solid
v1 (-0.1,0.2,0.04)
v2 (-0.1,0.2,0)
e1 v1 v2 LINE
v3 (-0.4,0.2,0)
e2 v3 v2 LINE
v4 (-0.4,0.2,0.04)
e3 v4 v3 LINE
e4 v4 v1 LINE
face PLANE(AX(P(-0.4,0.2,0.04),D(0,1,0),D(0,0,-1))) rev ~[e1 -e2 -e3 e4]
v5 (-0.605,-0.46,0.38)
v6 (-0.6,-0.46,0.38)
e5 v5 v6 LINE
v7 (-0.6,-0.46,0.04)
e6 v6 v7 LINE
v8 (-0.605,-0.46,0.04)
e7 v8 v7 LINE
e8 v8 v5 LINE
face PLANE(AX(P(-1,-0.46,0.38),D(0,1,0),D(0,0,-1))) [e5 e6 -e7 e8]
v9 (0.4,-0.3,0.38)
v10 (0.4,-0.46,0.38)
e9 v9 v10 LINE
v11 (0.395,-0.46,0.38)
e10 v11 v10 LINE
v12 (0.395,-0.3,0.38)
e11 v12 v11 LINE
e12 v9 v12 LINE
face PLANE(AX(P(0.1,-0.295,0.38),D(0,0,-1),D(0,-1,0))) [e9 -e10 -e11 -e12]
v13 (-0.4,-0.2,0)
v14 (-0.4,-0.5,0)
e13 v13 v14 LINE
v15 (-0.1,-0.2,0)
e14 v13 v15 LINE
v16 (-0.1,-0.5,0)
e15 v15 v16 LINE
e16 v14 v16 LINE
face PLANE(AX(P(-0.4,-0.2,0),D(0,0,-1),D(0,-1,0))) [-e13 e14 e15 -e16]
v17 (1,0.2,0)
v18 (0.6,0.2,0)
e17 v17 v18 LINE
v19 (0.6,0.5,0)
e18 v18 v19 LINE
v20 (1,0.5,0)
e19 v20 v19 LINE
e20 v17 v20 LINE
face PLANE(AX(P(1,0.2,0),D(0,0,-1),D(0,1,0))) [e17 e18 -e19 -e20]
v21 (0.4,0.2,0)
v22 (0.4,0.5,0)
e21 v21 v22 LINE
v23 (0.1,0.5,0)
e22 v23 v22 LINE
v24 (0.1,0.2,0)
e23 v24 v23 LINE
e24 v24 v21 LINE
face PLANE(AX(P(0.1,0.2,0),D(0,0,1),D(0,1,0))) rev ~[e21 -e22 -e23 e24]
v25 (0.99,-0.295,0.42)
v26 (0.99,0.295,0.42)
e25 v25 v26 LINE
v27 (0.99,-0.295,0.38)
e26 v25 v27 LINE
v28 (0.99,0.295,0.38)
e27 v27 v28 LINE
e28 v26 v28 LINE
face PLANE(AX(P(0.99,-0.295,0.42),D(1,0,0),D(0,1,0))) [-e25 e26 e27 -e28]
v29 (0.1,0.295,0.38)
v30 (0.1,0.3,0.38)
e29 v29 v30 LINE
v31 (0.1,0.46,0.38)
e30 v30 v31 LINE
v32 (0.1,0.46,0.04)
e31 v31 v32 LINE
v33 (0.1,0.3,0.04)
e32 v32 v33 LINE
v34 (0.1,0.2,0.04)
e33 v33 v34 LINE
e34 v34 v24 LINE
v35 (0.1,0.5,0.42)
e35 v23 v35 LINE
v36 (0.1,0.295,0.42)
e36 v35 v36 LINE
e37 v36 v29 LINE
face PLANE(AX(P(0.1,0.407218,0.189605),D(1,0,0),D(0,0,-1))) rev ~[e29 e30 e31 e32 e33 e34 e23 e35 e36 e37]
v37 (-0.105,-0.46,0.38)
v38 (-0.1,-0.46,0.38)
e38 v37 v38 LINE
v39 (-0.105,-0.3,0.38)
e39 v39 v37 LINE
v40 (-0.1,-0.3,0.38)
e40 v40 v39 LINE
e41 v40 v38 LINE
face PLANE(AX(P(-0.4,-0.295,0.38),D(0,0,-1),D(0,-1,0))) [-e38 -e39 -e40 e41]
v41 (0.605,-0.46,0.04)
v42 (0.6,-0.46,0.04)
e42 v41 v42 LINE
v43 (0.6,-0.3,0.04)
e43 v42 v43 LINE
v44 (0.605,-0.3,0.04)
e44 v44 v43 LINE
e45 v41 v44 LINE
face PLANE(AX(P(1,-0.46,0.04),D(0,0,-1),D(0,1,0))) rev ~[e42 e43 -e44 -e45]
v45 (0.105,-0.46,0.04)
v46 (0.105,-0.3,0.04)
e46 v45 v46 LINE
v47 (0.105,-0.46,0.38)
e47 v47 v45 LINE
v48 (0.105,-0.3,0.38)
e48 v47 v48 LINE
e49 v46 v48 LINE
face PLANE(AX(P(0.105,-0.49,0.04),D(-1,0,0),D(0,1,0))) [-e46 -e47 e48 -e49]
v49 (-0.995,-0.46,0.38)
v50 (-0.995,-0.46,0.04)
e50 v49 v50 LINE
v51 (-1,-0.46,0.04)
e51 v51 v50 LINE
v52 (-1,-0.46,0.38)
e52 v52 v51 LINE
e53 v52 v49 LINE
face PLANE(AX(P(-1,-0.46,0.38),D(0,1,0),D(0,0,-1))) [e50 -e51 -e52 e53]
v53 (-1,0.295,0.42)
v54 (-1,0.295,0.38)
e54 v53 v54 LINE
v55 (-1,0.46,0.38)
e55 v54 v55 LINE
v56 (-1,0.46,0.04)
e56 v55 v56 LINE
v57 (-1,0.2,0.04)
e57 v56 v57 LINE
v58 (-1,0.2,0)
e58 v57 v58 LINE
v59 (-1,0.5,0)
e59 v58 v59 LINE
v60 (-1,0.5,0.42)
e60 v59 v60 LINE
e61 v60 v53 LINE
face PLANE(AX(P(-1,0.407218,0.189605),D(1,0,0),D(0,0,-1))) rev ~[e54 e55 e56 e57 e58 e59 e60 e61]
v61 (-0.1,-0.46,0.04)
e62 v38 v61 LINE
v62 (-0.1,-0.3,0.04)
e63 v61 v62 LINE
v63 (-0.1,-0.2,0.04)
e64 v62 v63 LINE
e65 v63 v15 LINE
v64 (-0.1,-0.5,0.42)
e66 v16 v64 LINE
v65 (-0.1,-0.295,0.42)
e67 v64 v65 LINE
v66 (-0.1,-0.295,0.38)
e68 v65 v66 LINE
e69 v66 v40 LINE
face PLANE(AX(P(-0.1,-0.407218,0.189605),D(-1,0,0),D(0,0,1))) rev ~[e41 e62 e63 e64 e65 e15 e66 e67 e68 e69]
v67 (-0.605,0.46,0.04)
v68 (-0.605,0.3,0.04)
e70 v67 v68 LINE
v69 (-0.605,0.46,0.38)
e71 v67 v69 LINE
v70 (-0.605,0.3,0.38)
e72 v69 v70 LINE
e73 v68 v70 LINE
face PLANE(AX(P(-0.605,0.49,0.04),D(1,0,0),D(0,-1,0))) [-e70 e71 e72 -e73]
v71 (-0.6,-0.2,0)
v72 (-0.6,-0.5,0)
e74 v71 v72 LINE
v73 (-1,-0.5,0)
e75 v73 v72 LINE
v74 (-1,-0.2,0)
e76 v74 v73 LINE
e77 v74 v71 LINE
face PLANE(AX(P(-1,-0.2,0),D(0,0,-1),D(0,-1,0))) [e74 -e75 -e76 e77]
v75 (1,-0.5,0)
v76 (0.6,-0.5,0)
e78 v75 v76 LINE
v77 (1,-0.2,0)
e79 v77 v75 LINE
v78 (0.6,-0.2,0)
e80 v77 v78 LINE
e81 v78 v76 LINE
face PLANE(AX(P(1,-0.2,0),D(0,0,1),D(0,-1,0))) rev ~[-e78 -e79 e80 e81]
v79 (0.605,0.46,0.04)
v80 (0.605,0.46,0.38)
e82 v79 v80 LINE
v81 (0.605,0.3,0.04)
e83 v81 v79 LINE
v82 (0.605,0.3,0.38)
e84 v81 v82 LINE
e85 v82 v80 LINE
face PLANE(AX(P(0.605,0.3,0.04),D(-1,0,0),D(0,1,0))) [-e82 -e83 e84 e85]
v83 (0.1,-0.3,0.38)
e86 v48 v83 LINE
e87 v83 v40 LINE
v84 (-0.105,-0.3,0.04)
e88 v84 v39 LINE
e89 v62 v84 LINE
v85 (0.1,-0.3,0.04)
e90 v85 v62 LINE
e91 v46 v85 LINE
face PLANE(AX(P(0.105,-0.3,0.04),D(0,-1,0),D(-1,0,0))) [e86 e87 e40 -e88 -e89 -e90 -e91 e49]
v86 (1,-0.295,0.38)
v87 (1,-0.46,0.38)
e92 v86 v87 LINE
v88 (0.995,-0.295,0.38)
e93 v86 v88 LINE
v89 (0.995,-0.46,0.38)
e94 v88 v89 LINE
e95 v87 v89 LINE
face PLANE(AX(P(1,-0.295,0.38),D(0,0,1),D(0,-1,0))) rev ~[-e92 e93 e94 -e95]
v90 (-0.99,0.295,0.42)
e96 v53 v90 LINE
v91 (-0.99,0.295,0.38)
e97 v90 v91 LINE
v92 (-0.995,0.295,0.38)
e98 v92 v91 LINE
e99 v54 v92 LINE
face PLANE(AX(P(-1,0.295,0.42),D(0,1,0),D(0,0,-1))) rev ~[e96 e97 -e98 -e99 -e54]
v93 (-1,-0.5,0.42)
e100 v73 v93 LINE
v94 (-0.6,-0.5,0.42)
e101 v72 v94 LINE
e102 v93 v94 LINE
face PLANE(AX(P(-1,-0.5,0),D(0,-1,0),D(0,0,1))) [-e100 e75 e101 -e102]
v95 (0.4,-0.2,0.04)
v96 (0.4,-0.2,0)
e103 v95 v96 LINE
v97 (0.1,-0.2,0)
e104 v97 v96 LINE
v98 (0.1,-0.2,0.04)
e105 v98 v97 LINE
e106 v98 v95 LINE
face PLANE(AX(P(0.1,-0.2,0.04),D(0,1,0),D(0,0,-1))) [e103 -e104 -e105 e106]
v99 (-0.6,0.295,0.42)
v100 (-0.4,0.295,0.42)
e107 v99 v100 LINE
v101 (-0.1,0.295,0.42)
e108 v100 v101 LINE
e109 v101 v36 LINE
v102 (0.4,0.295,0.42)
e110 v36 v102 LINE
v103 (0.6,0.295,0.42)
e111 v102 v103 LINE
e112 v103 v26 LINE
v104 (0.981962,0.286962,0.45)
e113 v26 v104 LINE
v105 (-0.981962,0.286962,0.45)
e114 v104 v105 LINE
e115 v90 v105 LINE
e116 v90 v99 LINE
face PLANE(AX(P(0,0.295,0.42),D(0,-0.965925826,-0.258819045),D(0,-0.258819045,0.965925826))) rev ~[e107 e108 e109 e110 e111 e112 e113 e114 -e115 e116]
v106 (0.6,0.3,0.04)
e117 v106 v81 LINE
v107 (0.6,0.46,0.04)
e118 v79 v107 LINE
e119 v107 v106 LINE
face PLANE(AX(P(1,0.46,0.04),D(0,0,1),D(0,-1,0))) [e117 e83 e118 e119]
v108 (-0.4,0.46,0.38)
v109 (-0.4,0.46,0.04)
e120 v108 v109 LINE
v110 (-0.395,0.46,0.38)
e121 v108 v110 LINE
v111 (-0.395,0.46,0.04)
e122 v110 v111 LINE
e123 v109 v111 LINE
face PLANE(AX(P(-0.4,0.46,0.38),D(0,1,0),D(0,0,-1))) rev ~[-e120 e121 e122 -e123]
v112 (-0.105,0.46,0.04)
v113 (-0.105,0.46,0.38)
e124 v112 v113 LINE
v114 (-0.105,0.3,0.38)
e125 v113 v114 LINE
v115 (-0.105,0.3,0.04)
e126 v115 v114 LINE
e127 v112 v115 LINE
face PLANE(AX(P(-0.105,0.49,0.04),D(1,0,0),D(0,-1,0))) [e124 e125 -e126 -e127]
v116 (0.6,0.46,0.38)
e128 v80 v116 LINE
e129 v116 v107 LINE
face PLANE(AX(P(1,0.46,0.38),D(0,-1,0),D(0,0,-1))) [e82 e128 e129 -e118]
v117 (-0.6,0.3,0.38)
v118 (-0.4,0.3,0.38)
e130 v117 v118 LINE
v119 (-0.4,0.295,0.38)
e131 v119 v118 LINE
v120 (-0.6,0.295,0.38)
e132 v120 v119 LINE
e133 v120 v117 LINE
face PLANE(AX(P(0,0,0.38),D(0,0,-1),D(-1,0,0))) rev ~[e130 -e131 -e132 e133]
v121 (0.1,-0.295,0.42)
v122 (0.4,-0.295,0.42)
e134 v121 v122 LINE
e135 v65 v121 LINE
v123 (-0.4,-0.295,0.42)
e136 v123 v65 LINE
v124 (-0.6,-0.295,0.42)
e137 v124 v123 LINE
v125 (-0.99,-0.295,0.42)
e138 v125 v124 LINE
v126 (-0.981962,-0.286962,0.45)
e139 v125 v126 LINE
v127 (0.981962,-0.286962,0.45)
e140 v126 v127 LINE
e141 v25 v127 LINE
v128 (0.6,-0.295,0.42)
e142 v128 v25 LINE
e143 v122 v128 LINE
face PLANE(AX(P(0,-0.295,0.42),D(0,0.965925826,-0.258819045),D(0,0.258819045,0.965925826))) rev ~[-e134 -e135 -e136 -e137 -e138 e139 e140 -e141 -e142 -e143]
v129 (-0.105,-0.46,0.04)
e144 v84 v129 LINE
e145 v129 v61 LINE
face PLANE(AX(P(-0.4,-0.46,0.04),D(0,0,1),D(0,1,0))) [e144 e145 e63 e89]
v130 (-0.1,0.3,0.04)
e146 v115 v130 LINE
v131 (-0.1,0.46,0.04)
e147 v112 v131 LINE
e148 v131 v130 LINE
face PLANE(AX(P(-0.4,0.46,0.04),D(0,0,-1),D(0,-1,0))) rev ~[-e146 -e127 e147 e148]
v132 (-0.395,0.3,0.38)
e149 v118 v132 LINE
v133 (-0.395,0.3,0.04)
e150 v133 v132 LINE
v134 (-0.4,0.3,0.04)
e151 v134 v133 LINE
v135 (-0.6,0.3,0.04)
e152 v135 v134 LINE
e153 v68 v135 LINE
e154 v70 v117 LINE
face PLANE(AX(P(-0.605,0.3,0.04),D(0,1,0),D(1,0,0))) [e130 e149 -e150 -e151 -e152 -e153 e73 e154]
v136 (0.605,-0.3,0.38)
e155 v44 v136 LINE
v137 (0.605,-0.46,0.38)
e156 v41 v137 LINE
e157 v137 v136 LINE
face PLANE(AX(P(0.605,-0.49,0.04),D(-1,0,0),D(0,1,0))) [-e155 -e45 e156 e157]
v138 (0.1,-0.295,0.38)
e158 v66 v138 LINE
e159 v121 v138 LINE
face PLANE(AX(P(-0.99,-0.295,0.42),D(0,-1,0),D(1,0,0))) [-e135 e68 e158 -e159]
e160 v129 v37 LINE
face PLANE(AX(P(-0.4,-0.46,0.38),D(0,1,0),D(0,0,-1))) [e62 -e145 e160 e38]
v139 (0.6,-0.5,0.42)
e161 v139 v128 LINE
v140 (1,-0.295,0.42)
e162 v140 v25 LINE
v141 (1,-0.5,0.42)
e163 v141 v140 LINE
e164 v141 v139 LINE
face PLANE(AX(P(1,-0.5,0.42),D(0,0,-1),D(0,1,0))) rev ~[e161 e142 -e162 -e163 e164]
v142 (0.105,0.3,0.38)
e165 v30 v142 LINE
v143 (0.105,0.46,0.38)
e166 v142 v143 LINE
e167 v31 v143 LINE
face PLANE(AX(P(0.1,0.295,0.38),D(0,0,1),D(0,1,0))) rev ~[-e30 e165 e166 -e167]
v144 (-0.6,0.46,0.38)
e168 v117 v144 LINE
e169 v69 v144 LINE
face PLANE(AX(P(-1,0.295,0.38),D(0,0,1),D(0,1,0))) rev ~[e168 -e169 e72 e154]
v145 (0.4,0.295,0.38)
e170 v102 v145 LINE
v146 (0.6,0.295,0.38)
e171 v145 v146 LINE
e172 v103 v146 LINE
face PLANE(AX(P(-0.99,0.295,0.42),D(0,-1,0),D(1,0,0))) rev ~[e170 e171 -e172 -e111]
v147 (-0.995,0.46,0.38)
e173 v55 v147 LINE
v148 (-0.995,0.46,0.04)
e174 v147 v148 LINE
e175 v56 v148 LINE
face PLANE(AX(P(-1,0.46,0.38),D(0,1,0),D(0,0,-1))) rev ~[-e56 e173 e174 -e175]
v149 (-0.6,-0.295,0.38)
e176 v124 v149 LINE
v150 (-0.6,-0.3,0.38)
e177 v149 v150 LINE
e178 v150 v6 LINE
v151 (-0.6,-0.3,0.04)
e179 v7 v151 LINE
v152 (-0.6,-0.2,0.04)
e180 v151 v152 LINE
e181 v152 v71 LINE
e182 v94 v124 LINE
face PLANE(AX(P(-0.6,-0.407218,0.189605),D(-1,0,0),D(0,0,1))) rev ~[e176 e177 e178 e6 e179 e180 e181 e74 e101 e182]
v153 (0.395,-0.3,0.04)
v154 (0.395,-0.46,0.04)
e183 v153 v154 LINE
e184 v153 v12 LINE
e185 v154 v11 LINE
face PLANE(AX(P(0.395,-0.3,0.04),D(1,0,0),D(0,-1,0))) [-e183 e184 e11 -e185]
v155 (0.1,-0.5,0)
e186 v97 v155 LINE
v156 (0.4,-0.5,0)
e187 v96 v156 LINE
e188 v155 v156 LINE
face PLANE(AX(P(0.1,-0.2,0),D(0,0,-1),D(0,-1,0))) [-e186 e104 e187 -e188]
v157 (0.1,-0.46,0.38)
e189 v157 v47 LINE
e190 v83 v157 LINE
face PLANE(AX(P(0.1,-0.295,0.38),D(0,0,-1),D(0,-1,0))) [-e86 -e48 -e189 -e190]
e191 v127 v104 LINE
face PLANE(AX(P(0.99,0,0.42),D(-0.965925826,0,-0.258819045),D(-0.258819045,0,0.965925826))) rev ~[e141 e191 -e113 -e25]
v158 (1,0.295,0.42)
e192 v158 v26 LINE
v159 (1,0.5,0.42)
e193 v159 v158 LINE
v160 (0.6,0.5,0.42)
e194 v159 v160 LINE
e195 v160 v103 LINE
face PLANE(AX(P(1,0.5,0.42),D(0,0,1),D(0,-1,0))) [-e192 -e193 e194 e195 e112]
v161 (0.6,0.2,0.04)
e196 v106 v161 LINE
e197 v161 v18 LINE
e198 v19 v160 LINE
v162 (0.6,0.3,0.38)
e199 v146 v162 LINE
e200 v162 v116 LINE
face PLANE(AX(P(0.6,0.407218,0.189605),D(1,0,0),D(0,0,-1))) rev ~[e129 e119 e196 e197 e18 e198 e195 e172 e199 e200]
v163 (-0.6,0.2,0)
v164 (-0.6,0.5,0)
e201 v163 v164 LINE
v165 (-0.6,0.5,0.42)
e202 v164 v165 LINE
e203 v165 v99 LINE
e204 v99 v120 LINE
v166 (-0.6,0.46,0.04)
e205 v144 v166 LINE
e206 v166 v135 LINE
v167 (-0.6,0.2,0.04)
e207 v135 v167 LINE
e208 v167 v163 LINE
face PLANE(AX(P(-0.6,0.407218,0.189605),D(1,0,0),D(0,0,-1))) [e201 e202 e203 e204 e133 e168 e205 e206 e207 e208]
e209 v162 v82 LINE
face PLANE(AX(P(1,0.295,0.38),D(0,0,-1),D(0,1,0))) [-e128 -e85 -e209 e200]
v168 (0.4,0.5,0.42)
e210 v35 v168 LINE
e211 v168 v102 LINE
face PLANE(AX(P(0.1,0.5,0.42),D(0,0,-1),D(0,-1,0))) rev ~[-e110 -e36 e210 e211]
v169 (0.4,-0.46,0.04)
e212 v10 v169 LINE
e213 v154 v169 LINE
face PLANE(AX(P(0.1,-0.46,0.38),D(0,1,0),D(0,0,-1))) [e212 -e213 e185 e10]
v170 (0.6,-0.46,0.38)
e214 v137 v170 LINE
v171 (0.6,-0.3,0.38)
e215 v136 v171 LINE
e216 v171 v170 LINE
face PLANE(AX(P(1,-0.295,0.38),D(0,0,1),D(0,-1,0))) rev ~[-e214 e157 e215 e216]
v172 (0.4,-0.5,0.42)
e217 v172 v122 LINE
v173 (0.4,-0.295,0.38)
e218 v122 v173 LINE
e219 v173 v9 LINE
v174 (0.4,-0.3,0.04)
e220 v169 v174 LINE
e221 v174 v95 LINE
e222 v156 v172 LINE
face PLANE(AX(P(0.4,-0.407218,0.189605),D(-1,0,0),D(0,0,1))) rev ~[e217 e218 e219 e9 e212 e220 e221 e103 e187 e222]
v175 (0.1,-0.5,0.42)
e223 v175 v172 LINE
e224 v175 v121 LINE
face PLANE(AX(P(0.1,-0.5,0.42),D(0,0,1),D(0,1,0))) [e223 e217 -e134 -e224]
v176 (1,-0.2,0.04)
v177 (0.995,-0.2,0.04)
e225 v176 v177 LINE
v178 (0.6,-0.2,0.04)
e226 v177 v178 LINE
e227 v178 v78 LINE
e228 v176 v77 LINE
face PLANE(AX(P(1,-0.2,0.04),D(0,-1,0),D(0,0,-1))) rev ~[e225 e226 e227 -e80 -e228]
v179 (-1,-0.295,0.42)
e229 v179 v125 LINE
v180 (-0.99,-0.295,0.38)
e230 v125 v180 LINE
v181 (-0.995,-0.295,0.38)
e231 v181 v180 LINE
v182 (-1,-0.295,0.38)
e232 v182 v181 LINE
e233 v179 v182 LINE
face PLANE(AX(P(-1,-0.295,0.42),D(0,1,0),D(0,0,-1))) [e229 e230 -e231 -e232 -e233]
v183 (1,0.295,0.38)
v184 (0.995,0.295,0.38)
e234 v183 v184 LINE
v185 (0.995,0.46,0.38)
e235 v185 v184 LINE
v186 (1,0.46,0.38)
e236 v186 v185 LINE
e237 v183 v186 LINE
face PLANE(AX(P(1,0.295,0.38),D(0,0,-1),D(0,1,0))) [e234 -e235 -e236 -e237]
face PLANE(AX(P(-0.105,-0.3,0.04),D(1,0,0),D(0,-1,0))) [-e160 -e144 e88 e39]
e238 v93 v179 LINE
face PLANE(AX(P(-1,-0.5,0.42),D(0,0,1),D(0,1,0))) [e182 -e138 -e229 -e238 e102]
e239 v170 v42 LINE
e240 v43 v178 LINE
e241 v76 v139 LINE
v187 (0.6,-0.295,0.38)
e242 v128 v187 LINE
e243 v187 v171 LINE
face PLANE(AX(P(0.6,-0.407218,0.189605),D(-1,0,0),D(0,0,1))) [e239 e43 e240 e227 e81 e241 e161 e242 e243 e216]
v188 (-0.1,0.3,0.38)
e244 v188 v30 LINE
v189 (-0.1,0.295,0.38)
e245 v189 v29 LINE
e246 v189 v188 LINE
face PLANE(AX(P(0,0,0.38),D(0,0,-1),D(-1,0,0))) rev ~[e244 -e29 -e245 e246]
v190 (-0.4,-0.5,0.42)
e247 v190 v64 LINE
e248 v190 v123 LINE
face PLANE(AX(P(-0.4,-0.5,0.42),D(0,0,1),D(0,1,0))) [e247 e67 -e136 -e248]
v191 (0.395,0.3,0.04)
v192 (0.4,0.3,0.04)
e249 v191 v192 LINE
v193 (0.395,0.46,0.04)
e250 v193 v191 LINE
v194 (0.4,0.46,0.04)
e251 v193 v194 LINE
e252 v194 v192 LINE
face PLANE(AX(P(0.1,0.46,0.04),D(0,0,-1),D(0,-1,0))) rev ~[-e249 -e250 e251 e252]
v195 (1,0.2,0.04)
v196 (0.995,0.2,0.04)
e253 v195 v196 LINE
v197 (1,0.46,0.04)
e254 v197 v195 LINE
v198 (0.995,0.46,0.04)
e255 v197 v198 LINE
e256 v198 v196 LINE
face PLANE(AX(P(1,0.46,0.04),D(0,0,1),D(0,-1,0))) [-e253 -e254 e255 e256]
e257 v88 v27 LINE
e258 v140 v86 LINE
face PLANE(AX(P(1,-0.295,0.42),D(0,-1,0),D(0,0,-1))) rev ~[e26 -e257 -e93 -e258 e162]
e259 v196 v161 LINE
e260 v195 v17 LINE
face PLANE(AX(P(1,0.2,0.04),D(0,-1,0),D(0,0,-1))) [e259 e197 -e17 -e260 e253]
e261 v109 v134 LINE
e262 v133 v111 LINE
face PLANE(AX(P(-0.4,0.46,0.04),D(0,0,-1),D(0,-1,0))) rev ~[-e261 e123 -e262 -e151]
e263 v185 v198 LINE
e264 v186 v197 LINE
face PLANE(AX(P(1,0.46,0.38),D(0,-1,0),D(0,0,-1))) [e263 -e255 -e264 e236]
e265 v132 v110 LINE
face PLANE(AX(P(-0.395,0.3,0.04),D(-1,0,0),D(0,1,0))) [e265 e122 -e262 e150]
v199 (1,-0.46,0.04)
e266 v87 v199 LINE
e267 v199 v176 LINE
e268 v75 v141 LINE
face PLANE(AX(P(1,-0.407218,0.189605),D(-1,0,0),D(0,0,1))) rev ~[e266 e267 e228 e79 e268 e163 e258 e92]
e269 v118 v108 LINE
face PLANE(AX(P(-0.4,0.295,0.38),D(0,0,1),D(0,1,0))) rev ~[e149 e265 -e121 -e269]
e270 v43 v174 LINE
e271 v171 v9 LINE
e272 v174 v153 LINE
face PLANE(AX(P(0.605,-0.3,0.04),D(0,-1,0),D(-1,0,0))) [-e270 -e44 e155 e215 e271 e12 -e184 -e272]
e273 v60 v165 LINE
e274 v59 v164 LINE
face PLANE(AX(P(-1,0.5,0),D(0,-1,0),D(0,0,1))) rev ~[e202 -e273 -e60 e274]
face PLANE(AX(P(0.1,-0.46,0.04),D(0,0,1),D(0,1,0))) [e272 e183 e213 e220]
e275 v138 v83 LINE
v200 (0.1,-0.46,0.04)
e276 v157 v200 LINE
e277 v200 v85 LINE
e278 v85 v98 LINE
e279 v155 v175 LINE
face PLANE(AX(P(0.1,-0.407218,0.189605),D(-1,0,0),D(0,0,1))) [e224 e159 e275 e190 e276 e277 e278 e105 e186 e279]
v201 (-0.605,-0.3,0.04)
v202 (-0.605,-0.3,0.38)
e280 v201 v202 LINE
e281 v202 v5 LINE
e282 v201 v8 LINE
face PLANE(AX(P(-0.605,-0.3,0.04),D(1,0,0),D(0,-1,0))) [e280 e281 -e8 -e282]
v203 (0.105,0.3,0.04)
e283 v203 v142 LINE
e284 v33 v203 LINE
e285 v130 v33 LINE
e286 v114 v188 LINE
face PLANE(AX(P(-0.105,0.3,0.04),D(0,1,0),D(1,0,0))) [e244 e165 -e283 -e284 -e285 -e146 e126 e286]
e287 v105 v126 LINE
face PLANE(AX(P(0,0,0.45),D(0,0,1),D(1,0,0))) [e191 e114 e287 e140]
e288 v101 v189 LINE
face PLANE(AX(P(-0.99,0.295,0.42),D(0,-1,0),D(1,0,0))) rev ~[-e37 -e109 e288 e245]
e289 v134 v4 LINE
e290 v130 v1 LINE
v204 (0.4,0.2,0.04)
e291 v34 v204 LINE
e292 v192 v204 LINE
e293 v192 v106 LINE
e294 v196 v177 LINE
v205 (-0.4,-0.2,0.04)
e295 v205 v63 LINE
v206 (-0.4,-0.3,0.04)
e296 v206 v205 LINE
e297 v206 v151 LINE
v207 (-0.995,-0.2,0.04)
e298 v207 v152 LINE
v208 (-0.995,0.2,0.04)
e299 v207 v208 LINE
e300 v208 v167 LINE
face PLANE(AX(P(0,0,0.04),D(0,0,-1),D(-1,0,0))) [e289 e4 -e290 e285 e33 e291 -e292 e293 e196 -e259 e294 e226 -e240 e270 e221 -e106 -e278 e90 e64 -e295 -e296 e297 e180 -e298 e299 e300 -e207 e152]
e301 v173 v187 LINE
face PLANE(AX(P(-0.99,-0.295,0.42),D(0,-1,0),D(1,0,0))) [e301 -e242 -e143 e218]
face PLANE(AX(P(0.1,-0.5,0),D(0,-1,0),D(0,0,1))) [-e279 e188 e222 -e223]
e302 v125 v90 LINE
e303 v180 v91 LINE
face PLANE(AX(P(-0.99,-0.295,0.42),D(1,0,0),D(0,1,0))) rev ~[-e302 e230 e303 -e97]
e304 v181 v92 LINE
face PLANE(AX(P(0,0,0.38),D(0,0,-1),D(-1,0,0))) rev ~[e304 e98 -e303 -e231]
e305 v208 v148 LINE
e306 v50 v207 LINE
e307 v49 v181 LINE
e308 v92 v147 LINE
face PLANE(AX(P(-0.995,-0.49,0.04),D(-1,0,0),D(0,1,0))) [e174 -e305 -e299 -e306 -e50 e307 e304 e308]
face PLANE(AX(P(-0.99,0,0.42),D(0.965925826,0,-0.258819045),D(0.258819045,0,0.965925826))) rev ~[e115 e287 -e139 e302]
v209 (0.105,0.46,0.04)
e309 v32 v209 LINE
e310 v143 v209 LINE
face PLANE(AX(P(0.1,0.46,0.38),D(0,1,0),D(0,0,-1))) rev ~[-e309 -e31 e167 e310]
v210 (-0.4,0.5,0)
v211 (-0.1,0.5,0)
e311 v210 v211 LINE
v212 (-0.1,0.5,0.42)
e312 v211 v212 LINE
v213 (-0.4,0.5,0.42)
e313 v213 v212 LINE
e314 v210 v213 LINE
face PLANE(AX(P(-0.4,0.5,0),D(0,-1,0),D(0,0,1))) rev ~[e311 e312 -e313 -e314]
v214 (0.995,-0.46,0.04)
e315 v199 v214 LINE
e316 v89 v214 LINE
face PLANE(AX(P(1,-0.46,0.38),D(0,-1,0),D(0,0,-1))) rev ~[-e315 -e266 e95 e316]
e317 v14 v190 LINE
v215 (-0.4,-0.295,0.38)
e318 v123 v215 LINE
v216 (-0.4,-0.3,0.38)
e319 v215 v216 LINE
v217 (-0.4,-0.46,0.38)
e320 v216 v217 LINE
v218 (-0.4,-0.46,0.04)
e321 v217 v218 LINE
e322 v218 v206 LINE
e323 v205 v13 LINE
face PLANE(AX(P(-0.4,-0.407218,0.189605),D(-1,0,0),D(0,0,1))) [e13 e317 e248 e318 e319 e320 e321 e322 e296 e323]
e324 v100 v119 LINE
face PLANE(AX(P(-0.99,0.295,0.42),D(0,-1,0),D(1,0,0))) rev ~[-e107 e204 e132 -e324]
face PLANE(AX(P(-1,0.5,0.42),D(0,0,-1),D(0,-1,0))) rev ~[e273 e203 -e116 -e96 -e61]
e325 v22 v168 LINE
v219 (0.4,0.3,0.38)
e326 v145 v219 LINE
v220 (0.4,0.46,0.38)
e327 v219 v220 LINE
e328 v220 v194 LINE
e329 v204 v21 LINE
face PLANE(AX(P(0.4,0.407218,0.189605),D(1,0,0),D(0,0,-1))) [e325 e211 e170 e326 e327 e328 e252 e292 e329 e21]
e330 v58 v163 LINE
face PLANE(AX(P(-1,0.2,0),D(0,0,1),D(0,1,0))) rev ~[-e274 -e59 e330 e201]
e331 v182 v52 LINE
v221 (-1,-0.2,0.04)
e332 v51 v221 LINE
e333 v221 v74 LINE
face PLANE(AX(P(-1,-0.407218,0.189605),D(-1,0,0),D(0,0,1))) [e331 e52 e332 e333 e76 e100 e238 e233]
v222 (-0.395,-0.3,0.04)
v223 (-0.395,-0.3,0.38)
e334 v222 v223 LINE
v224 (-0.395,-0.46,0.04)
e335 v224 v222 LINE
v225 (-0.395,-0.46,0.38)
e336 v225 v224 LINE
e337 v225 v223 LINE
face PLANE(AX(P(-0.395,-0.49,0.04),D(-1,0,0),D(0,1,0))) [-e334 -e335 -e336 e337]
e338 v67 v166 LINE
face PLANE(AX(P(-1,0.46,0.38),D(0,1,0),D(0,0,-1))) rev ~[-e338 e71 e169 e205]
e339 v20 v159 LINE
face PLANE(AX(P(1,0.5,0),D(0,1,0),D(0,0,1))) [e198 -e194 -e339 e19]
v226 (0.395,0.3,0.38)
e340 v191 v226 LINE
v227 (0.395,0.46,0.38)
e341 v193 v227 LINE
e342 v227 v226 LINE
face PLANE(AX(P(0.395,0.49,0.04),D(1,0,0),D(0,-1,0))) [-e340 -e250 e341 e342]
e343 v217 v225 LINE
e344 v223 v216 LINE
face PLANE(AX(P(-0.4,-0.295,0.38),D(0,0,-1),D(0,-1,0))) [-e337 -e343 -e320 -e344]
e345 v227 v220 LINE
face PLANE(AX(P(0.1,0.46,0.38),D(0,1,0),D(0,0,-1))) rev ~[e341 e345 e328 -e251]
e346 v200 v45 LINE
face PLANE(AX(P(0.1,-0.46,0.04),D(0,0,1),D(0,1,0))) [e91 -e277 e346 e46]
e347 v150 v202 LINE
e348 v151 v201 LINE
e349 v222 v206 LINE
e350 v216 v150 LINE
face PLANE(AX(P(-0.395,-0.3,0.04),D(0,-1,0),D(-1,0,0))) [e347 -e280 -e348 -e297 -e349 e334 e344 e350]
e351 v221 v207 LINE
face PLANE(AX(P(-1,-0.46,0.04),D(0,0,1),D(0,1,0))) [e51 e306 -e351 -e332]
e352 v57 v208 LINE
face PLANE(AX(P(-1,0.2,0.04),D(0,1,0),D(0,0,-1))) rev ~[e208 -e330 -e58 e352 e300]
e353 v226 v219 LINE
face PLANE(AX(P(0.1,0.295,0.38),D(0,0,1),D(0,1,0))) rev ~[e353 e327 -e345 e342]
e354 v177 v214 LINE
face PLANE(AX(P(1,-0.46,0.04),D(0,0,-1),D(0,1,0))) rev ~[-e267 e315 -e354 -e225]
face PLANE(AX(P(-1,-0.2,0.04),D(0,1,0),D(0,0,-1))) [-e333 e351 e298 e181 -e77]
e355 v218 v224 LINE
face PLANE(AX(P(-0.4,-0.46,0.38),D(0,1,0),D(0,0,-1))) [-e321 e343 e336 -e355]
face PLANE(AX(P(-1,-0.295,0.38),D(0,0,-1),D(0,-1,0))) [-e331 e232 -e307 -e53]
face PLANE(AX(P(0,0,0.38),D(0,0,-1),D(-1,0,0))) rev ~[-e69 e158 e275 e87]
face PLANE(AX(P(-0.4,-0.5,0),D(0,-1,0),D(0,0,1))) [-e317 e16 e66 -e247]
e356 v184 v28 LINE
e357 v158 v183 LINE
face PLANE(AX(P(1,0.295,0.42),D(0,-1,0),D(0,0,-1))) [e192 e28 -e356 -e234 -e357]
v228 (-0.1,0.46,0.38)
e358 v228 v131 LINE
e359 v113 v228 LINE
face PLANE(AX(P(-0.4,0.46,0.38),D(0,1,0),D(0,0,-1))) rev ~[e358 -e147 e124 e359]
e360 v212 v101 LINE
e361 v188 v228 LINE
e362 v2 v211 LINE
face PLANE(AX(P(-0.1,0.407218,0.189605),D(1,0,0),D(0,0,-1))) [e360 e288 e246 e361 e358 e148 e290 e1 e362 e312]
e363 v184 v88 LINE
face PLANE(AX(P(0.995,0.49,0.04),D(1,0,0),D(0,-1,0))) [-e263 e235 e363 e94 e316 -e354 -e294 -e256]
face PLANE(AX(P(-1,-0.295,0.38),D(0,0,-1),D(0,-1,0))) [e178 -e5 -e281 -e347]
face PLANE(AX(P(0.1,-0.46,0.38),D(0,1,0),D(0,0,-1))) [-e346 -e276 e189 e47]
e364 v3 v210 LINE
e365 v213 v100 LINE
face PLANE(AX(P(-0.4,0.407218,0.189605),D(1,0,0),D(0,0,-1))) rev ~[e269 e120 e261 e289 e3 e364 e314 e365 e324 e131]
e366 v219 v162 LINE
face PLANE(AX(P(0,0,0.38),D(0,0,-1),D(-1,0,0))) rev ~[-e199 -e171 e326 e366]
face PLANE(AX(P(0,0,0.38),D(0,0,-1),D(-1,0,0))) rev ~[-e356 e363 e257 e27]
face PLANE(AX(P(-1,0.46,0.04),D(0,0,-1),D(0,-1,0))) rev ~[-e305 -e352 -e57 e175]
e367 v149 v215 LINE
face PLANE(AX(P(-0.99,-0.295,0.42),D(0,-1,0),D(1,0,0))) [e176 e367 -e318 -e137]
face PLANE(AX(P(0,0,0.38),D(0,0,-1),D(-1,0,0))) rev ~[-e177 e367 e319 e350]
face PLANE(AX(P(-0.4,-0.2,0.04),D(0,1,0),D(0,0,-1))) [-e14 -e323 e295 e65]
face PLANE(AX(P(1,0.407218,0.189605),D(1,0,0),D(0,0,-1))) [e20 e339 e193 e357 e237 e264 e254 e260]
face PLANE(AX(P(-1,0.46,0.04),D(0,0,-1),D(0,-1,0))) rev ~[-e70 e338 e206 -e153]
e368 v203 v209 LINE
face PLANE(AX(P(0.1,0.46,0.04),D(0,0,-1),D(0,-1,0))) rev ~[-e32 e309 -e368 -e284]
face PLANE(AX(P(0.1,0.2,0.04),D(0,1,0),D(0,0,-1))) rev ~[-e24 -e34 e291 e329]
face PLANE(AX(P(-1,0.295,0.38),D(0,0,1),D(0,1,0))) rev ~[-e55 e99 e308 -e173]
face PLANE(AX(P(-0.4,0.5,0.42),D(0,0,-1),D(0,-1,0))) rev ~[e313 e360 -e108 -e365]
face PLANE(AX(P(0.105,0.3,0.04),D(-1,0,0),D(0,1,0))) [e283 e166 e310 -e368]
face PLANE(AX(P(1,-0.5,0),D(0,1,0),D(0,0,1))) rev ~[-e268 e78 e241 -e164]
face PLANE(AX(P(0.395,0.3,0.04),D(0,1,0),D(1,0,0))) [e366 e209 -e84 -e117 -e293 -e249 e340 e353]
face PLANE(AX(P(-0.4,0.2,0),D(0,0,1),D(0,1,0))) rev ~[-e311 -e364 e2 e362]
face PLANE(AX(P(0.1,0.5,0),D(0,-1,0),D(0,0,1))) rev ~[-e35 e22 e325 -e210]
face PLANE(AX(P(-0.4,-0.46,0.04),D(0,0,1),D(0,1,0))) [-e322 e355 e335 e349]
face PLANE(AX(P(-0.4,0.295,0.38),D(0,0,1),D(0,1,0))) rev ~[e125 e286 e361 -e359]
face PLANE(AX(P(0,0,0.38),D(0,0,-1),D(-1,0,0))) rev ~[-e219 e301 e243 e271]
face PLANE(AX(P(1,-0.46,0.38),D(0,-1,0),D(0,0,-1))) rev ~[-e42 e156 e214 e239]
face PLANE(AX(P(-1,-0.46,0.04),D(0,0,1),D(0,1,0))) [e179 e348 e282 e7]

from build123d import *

# Parameters (mm, degrees)
EXTRUDE_START               = 0.04
EXTRUDE_1_DEPTH             = 0.34
EXTRUDE_START_2             = 0.42
SKETCH_2_W                  = 1.98
SKETCH_2_H                  = 0.59
EXTRUDE_1_2_DEPTH           = 0.03
EXTRUDE_1_2_TAPER           = 15
EXTRUDE_1_2_OTHER_WAY_DEPTH = 0.04
EXTRUDE_START_3             = -0.4
EXTRUDE_3_DEPTH             = 0.3
EXTRUDE_START_4             = -1
EXTRUDE_4_DEPTH             = 0.4
EXTRUDE_START_5             = 1
EXTRUDE_5_DEPTH             = 0.4
PATTERN_LINEAR_1_COUNT      = 2
PATTERN_LINEAR_1_PITCH      = 0.5


with BuildPart() as part:
    # Эскиз1 → Extrude 1 (new body)
    with BuildSketch(Plane.XY.offset(EXTRUDE_START)):
        Polygon((-0.605, 0.49), (-0.605, 0.3), (-0.395, 0.3), (-0.395, 0.49), (-0.105, 0.49), (-0.105, 0.3), (0.105, 0.3), (0.105, 0.49), (0.395, 0.49), (0.395, 0.3), (0.605, 0.3), (0.605, 0.49), (0.995, 0.49), (0.995, -0.49), (0.605, -0.49), (0.605, -0.3), (0.395, -0.3), (0.395, -0.49), (0.105, -0.49), (0.105, -0.3), (-0.105, -0.3), (-0.105, -0.49), (-0.395, -0.49), (-0.395, -0.3), (-0.605, -0.3), (-0.605, -0.49), (-0.995, -0.49), (-0.995, 0.49), align=None)
    extrude(amount=EXTRUDE_1_DEPTH)

    # Эскиз2 → Extrude 1 2 (add)
    with BuildSketch(Plane.XY.offset(EXTRUDE_START_2)):
        Rectangle(SKETCH_2_W, SKETCH_2_H)
    extrude(amount=EXTRUDE_1_2_DEPTH, taper=EXTRUDE_1_2_TAPER)

    # Эскиз2 → Extrude 1 2 other way (add)
    with BuildSketch(Plane.XY.offset(EXTRUDE_START_2)):
        Rectangle(SKETCH_2_W, SKETCH_2_H)
    extrude(amount=-EXTRUDE_1_2_OTHER_WAY_DEPTH)

    # Эскиз3 → Бобышка-Вытянуть3 (add)
    with BuildSketch(Plane(origin=(0, 0, 0), x_dir=(0, 0, -1), z_dir=(1, 0, 0)).offset(EXTRUDE_START_3)):
        Polygon((-0.42, 0.295), (-0.38, 0.295), (-0.38, 0.46), (-0.04, 0.46), (-0.04, 0.2), (0, 0.2), (0, 0.5), (-0.42, 0.5), align=None)
        Polygon((-0.04, -0.2), (0, -0.2), (0, -0.5), (-0.42, -0.5), (-0.42, -0.295), (-0.38, -0.295), (-0.38, -0.46), (-0.04, -0.46), align=None)
    extrude_3 = extrude(amount=EXTRUDE_3_DEPTH)

    # Эскиз3<2> → Бобышка-Вытянуть4 (add)
    with BuildSketch(Plane(origin=(0, 0, 0), x_dir=(0, 0, -1), z_dir=(1, 0, 0)).offset(EXTRUDE_START_4)):
        Polygon((-0.42, 0.295), (-0.38, 0.295), (-0.38, 0.46), (-0.04, 0.46), (-0.04, 0.2), (0, 0.2), (0, 0.5), (-0.42, 0.5), align=None)
        Polygon((-0.04, -0.2), (0, -0.2), (0, -0.5), (-0.42, -0.5), (-0.42, -0.295), (-0.38, -0.295), (-0.38, -0.46), (-0.04, -0.46), align=None)
    extrude(amount=EXTRUDE_4_DEPTH)

    # Эскиз3<3> → Бобышка-Вытянуть5 (add)
    with BuildSketch(Plane(origin=(0, 0, 0), x_dir=(0, 0, -1), z_dir=(1, 0, 0)).offset(EXTRUDE_START_5)):
        Polygon((-0.42, 0.295), (-0.38, 0.295), (-0.38, 0.46), (-0.04, 0.46), (-0.04, 0.2), (0, 0.2), (0, 0.5), (-0.42, 0.5), align=None)
        Polygon((-0.04, -0.2), (0, -0.2), (0, -0.5), (-0.42, -0.5), (-0.42, -0.295), (-0.38, -0.295), (-0.38, -0.46), (-0.04, -0.46), align=None)
    extrude(amount=-EXTRUDE_5_DEPTH)

    # Линейный массив1: Бобышка-Вытянуть3 ×2
    with Locations(*[(i * PATTERN_LINEAR_1_PITCH, 0, 0) for i in range(1, PATTERN_LINEAR_1_COUNT)]):
        add(extrude_3)


solid = part.part
